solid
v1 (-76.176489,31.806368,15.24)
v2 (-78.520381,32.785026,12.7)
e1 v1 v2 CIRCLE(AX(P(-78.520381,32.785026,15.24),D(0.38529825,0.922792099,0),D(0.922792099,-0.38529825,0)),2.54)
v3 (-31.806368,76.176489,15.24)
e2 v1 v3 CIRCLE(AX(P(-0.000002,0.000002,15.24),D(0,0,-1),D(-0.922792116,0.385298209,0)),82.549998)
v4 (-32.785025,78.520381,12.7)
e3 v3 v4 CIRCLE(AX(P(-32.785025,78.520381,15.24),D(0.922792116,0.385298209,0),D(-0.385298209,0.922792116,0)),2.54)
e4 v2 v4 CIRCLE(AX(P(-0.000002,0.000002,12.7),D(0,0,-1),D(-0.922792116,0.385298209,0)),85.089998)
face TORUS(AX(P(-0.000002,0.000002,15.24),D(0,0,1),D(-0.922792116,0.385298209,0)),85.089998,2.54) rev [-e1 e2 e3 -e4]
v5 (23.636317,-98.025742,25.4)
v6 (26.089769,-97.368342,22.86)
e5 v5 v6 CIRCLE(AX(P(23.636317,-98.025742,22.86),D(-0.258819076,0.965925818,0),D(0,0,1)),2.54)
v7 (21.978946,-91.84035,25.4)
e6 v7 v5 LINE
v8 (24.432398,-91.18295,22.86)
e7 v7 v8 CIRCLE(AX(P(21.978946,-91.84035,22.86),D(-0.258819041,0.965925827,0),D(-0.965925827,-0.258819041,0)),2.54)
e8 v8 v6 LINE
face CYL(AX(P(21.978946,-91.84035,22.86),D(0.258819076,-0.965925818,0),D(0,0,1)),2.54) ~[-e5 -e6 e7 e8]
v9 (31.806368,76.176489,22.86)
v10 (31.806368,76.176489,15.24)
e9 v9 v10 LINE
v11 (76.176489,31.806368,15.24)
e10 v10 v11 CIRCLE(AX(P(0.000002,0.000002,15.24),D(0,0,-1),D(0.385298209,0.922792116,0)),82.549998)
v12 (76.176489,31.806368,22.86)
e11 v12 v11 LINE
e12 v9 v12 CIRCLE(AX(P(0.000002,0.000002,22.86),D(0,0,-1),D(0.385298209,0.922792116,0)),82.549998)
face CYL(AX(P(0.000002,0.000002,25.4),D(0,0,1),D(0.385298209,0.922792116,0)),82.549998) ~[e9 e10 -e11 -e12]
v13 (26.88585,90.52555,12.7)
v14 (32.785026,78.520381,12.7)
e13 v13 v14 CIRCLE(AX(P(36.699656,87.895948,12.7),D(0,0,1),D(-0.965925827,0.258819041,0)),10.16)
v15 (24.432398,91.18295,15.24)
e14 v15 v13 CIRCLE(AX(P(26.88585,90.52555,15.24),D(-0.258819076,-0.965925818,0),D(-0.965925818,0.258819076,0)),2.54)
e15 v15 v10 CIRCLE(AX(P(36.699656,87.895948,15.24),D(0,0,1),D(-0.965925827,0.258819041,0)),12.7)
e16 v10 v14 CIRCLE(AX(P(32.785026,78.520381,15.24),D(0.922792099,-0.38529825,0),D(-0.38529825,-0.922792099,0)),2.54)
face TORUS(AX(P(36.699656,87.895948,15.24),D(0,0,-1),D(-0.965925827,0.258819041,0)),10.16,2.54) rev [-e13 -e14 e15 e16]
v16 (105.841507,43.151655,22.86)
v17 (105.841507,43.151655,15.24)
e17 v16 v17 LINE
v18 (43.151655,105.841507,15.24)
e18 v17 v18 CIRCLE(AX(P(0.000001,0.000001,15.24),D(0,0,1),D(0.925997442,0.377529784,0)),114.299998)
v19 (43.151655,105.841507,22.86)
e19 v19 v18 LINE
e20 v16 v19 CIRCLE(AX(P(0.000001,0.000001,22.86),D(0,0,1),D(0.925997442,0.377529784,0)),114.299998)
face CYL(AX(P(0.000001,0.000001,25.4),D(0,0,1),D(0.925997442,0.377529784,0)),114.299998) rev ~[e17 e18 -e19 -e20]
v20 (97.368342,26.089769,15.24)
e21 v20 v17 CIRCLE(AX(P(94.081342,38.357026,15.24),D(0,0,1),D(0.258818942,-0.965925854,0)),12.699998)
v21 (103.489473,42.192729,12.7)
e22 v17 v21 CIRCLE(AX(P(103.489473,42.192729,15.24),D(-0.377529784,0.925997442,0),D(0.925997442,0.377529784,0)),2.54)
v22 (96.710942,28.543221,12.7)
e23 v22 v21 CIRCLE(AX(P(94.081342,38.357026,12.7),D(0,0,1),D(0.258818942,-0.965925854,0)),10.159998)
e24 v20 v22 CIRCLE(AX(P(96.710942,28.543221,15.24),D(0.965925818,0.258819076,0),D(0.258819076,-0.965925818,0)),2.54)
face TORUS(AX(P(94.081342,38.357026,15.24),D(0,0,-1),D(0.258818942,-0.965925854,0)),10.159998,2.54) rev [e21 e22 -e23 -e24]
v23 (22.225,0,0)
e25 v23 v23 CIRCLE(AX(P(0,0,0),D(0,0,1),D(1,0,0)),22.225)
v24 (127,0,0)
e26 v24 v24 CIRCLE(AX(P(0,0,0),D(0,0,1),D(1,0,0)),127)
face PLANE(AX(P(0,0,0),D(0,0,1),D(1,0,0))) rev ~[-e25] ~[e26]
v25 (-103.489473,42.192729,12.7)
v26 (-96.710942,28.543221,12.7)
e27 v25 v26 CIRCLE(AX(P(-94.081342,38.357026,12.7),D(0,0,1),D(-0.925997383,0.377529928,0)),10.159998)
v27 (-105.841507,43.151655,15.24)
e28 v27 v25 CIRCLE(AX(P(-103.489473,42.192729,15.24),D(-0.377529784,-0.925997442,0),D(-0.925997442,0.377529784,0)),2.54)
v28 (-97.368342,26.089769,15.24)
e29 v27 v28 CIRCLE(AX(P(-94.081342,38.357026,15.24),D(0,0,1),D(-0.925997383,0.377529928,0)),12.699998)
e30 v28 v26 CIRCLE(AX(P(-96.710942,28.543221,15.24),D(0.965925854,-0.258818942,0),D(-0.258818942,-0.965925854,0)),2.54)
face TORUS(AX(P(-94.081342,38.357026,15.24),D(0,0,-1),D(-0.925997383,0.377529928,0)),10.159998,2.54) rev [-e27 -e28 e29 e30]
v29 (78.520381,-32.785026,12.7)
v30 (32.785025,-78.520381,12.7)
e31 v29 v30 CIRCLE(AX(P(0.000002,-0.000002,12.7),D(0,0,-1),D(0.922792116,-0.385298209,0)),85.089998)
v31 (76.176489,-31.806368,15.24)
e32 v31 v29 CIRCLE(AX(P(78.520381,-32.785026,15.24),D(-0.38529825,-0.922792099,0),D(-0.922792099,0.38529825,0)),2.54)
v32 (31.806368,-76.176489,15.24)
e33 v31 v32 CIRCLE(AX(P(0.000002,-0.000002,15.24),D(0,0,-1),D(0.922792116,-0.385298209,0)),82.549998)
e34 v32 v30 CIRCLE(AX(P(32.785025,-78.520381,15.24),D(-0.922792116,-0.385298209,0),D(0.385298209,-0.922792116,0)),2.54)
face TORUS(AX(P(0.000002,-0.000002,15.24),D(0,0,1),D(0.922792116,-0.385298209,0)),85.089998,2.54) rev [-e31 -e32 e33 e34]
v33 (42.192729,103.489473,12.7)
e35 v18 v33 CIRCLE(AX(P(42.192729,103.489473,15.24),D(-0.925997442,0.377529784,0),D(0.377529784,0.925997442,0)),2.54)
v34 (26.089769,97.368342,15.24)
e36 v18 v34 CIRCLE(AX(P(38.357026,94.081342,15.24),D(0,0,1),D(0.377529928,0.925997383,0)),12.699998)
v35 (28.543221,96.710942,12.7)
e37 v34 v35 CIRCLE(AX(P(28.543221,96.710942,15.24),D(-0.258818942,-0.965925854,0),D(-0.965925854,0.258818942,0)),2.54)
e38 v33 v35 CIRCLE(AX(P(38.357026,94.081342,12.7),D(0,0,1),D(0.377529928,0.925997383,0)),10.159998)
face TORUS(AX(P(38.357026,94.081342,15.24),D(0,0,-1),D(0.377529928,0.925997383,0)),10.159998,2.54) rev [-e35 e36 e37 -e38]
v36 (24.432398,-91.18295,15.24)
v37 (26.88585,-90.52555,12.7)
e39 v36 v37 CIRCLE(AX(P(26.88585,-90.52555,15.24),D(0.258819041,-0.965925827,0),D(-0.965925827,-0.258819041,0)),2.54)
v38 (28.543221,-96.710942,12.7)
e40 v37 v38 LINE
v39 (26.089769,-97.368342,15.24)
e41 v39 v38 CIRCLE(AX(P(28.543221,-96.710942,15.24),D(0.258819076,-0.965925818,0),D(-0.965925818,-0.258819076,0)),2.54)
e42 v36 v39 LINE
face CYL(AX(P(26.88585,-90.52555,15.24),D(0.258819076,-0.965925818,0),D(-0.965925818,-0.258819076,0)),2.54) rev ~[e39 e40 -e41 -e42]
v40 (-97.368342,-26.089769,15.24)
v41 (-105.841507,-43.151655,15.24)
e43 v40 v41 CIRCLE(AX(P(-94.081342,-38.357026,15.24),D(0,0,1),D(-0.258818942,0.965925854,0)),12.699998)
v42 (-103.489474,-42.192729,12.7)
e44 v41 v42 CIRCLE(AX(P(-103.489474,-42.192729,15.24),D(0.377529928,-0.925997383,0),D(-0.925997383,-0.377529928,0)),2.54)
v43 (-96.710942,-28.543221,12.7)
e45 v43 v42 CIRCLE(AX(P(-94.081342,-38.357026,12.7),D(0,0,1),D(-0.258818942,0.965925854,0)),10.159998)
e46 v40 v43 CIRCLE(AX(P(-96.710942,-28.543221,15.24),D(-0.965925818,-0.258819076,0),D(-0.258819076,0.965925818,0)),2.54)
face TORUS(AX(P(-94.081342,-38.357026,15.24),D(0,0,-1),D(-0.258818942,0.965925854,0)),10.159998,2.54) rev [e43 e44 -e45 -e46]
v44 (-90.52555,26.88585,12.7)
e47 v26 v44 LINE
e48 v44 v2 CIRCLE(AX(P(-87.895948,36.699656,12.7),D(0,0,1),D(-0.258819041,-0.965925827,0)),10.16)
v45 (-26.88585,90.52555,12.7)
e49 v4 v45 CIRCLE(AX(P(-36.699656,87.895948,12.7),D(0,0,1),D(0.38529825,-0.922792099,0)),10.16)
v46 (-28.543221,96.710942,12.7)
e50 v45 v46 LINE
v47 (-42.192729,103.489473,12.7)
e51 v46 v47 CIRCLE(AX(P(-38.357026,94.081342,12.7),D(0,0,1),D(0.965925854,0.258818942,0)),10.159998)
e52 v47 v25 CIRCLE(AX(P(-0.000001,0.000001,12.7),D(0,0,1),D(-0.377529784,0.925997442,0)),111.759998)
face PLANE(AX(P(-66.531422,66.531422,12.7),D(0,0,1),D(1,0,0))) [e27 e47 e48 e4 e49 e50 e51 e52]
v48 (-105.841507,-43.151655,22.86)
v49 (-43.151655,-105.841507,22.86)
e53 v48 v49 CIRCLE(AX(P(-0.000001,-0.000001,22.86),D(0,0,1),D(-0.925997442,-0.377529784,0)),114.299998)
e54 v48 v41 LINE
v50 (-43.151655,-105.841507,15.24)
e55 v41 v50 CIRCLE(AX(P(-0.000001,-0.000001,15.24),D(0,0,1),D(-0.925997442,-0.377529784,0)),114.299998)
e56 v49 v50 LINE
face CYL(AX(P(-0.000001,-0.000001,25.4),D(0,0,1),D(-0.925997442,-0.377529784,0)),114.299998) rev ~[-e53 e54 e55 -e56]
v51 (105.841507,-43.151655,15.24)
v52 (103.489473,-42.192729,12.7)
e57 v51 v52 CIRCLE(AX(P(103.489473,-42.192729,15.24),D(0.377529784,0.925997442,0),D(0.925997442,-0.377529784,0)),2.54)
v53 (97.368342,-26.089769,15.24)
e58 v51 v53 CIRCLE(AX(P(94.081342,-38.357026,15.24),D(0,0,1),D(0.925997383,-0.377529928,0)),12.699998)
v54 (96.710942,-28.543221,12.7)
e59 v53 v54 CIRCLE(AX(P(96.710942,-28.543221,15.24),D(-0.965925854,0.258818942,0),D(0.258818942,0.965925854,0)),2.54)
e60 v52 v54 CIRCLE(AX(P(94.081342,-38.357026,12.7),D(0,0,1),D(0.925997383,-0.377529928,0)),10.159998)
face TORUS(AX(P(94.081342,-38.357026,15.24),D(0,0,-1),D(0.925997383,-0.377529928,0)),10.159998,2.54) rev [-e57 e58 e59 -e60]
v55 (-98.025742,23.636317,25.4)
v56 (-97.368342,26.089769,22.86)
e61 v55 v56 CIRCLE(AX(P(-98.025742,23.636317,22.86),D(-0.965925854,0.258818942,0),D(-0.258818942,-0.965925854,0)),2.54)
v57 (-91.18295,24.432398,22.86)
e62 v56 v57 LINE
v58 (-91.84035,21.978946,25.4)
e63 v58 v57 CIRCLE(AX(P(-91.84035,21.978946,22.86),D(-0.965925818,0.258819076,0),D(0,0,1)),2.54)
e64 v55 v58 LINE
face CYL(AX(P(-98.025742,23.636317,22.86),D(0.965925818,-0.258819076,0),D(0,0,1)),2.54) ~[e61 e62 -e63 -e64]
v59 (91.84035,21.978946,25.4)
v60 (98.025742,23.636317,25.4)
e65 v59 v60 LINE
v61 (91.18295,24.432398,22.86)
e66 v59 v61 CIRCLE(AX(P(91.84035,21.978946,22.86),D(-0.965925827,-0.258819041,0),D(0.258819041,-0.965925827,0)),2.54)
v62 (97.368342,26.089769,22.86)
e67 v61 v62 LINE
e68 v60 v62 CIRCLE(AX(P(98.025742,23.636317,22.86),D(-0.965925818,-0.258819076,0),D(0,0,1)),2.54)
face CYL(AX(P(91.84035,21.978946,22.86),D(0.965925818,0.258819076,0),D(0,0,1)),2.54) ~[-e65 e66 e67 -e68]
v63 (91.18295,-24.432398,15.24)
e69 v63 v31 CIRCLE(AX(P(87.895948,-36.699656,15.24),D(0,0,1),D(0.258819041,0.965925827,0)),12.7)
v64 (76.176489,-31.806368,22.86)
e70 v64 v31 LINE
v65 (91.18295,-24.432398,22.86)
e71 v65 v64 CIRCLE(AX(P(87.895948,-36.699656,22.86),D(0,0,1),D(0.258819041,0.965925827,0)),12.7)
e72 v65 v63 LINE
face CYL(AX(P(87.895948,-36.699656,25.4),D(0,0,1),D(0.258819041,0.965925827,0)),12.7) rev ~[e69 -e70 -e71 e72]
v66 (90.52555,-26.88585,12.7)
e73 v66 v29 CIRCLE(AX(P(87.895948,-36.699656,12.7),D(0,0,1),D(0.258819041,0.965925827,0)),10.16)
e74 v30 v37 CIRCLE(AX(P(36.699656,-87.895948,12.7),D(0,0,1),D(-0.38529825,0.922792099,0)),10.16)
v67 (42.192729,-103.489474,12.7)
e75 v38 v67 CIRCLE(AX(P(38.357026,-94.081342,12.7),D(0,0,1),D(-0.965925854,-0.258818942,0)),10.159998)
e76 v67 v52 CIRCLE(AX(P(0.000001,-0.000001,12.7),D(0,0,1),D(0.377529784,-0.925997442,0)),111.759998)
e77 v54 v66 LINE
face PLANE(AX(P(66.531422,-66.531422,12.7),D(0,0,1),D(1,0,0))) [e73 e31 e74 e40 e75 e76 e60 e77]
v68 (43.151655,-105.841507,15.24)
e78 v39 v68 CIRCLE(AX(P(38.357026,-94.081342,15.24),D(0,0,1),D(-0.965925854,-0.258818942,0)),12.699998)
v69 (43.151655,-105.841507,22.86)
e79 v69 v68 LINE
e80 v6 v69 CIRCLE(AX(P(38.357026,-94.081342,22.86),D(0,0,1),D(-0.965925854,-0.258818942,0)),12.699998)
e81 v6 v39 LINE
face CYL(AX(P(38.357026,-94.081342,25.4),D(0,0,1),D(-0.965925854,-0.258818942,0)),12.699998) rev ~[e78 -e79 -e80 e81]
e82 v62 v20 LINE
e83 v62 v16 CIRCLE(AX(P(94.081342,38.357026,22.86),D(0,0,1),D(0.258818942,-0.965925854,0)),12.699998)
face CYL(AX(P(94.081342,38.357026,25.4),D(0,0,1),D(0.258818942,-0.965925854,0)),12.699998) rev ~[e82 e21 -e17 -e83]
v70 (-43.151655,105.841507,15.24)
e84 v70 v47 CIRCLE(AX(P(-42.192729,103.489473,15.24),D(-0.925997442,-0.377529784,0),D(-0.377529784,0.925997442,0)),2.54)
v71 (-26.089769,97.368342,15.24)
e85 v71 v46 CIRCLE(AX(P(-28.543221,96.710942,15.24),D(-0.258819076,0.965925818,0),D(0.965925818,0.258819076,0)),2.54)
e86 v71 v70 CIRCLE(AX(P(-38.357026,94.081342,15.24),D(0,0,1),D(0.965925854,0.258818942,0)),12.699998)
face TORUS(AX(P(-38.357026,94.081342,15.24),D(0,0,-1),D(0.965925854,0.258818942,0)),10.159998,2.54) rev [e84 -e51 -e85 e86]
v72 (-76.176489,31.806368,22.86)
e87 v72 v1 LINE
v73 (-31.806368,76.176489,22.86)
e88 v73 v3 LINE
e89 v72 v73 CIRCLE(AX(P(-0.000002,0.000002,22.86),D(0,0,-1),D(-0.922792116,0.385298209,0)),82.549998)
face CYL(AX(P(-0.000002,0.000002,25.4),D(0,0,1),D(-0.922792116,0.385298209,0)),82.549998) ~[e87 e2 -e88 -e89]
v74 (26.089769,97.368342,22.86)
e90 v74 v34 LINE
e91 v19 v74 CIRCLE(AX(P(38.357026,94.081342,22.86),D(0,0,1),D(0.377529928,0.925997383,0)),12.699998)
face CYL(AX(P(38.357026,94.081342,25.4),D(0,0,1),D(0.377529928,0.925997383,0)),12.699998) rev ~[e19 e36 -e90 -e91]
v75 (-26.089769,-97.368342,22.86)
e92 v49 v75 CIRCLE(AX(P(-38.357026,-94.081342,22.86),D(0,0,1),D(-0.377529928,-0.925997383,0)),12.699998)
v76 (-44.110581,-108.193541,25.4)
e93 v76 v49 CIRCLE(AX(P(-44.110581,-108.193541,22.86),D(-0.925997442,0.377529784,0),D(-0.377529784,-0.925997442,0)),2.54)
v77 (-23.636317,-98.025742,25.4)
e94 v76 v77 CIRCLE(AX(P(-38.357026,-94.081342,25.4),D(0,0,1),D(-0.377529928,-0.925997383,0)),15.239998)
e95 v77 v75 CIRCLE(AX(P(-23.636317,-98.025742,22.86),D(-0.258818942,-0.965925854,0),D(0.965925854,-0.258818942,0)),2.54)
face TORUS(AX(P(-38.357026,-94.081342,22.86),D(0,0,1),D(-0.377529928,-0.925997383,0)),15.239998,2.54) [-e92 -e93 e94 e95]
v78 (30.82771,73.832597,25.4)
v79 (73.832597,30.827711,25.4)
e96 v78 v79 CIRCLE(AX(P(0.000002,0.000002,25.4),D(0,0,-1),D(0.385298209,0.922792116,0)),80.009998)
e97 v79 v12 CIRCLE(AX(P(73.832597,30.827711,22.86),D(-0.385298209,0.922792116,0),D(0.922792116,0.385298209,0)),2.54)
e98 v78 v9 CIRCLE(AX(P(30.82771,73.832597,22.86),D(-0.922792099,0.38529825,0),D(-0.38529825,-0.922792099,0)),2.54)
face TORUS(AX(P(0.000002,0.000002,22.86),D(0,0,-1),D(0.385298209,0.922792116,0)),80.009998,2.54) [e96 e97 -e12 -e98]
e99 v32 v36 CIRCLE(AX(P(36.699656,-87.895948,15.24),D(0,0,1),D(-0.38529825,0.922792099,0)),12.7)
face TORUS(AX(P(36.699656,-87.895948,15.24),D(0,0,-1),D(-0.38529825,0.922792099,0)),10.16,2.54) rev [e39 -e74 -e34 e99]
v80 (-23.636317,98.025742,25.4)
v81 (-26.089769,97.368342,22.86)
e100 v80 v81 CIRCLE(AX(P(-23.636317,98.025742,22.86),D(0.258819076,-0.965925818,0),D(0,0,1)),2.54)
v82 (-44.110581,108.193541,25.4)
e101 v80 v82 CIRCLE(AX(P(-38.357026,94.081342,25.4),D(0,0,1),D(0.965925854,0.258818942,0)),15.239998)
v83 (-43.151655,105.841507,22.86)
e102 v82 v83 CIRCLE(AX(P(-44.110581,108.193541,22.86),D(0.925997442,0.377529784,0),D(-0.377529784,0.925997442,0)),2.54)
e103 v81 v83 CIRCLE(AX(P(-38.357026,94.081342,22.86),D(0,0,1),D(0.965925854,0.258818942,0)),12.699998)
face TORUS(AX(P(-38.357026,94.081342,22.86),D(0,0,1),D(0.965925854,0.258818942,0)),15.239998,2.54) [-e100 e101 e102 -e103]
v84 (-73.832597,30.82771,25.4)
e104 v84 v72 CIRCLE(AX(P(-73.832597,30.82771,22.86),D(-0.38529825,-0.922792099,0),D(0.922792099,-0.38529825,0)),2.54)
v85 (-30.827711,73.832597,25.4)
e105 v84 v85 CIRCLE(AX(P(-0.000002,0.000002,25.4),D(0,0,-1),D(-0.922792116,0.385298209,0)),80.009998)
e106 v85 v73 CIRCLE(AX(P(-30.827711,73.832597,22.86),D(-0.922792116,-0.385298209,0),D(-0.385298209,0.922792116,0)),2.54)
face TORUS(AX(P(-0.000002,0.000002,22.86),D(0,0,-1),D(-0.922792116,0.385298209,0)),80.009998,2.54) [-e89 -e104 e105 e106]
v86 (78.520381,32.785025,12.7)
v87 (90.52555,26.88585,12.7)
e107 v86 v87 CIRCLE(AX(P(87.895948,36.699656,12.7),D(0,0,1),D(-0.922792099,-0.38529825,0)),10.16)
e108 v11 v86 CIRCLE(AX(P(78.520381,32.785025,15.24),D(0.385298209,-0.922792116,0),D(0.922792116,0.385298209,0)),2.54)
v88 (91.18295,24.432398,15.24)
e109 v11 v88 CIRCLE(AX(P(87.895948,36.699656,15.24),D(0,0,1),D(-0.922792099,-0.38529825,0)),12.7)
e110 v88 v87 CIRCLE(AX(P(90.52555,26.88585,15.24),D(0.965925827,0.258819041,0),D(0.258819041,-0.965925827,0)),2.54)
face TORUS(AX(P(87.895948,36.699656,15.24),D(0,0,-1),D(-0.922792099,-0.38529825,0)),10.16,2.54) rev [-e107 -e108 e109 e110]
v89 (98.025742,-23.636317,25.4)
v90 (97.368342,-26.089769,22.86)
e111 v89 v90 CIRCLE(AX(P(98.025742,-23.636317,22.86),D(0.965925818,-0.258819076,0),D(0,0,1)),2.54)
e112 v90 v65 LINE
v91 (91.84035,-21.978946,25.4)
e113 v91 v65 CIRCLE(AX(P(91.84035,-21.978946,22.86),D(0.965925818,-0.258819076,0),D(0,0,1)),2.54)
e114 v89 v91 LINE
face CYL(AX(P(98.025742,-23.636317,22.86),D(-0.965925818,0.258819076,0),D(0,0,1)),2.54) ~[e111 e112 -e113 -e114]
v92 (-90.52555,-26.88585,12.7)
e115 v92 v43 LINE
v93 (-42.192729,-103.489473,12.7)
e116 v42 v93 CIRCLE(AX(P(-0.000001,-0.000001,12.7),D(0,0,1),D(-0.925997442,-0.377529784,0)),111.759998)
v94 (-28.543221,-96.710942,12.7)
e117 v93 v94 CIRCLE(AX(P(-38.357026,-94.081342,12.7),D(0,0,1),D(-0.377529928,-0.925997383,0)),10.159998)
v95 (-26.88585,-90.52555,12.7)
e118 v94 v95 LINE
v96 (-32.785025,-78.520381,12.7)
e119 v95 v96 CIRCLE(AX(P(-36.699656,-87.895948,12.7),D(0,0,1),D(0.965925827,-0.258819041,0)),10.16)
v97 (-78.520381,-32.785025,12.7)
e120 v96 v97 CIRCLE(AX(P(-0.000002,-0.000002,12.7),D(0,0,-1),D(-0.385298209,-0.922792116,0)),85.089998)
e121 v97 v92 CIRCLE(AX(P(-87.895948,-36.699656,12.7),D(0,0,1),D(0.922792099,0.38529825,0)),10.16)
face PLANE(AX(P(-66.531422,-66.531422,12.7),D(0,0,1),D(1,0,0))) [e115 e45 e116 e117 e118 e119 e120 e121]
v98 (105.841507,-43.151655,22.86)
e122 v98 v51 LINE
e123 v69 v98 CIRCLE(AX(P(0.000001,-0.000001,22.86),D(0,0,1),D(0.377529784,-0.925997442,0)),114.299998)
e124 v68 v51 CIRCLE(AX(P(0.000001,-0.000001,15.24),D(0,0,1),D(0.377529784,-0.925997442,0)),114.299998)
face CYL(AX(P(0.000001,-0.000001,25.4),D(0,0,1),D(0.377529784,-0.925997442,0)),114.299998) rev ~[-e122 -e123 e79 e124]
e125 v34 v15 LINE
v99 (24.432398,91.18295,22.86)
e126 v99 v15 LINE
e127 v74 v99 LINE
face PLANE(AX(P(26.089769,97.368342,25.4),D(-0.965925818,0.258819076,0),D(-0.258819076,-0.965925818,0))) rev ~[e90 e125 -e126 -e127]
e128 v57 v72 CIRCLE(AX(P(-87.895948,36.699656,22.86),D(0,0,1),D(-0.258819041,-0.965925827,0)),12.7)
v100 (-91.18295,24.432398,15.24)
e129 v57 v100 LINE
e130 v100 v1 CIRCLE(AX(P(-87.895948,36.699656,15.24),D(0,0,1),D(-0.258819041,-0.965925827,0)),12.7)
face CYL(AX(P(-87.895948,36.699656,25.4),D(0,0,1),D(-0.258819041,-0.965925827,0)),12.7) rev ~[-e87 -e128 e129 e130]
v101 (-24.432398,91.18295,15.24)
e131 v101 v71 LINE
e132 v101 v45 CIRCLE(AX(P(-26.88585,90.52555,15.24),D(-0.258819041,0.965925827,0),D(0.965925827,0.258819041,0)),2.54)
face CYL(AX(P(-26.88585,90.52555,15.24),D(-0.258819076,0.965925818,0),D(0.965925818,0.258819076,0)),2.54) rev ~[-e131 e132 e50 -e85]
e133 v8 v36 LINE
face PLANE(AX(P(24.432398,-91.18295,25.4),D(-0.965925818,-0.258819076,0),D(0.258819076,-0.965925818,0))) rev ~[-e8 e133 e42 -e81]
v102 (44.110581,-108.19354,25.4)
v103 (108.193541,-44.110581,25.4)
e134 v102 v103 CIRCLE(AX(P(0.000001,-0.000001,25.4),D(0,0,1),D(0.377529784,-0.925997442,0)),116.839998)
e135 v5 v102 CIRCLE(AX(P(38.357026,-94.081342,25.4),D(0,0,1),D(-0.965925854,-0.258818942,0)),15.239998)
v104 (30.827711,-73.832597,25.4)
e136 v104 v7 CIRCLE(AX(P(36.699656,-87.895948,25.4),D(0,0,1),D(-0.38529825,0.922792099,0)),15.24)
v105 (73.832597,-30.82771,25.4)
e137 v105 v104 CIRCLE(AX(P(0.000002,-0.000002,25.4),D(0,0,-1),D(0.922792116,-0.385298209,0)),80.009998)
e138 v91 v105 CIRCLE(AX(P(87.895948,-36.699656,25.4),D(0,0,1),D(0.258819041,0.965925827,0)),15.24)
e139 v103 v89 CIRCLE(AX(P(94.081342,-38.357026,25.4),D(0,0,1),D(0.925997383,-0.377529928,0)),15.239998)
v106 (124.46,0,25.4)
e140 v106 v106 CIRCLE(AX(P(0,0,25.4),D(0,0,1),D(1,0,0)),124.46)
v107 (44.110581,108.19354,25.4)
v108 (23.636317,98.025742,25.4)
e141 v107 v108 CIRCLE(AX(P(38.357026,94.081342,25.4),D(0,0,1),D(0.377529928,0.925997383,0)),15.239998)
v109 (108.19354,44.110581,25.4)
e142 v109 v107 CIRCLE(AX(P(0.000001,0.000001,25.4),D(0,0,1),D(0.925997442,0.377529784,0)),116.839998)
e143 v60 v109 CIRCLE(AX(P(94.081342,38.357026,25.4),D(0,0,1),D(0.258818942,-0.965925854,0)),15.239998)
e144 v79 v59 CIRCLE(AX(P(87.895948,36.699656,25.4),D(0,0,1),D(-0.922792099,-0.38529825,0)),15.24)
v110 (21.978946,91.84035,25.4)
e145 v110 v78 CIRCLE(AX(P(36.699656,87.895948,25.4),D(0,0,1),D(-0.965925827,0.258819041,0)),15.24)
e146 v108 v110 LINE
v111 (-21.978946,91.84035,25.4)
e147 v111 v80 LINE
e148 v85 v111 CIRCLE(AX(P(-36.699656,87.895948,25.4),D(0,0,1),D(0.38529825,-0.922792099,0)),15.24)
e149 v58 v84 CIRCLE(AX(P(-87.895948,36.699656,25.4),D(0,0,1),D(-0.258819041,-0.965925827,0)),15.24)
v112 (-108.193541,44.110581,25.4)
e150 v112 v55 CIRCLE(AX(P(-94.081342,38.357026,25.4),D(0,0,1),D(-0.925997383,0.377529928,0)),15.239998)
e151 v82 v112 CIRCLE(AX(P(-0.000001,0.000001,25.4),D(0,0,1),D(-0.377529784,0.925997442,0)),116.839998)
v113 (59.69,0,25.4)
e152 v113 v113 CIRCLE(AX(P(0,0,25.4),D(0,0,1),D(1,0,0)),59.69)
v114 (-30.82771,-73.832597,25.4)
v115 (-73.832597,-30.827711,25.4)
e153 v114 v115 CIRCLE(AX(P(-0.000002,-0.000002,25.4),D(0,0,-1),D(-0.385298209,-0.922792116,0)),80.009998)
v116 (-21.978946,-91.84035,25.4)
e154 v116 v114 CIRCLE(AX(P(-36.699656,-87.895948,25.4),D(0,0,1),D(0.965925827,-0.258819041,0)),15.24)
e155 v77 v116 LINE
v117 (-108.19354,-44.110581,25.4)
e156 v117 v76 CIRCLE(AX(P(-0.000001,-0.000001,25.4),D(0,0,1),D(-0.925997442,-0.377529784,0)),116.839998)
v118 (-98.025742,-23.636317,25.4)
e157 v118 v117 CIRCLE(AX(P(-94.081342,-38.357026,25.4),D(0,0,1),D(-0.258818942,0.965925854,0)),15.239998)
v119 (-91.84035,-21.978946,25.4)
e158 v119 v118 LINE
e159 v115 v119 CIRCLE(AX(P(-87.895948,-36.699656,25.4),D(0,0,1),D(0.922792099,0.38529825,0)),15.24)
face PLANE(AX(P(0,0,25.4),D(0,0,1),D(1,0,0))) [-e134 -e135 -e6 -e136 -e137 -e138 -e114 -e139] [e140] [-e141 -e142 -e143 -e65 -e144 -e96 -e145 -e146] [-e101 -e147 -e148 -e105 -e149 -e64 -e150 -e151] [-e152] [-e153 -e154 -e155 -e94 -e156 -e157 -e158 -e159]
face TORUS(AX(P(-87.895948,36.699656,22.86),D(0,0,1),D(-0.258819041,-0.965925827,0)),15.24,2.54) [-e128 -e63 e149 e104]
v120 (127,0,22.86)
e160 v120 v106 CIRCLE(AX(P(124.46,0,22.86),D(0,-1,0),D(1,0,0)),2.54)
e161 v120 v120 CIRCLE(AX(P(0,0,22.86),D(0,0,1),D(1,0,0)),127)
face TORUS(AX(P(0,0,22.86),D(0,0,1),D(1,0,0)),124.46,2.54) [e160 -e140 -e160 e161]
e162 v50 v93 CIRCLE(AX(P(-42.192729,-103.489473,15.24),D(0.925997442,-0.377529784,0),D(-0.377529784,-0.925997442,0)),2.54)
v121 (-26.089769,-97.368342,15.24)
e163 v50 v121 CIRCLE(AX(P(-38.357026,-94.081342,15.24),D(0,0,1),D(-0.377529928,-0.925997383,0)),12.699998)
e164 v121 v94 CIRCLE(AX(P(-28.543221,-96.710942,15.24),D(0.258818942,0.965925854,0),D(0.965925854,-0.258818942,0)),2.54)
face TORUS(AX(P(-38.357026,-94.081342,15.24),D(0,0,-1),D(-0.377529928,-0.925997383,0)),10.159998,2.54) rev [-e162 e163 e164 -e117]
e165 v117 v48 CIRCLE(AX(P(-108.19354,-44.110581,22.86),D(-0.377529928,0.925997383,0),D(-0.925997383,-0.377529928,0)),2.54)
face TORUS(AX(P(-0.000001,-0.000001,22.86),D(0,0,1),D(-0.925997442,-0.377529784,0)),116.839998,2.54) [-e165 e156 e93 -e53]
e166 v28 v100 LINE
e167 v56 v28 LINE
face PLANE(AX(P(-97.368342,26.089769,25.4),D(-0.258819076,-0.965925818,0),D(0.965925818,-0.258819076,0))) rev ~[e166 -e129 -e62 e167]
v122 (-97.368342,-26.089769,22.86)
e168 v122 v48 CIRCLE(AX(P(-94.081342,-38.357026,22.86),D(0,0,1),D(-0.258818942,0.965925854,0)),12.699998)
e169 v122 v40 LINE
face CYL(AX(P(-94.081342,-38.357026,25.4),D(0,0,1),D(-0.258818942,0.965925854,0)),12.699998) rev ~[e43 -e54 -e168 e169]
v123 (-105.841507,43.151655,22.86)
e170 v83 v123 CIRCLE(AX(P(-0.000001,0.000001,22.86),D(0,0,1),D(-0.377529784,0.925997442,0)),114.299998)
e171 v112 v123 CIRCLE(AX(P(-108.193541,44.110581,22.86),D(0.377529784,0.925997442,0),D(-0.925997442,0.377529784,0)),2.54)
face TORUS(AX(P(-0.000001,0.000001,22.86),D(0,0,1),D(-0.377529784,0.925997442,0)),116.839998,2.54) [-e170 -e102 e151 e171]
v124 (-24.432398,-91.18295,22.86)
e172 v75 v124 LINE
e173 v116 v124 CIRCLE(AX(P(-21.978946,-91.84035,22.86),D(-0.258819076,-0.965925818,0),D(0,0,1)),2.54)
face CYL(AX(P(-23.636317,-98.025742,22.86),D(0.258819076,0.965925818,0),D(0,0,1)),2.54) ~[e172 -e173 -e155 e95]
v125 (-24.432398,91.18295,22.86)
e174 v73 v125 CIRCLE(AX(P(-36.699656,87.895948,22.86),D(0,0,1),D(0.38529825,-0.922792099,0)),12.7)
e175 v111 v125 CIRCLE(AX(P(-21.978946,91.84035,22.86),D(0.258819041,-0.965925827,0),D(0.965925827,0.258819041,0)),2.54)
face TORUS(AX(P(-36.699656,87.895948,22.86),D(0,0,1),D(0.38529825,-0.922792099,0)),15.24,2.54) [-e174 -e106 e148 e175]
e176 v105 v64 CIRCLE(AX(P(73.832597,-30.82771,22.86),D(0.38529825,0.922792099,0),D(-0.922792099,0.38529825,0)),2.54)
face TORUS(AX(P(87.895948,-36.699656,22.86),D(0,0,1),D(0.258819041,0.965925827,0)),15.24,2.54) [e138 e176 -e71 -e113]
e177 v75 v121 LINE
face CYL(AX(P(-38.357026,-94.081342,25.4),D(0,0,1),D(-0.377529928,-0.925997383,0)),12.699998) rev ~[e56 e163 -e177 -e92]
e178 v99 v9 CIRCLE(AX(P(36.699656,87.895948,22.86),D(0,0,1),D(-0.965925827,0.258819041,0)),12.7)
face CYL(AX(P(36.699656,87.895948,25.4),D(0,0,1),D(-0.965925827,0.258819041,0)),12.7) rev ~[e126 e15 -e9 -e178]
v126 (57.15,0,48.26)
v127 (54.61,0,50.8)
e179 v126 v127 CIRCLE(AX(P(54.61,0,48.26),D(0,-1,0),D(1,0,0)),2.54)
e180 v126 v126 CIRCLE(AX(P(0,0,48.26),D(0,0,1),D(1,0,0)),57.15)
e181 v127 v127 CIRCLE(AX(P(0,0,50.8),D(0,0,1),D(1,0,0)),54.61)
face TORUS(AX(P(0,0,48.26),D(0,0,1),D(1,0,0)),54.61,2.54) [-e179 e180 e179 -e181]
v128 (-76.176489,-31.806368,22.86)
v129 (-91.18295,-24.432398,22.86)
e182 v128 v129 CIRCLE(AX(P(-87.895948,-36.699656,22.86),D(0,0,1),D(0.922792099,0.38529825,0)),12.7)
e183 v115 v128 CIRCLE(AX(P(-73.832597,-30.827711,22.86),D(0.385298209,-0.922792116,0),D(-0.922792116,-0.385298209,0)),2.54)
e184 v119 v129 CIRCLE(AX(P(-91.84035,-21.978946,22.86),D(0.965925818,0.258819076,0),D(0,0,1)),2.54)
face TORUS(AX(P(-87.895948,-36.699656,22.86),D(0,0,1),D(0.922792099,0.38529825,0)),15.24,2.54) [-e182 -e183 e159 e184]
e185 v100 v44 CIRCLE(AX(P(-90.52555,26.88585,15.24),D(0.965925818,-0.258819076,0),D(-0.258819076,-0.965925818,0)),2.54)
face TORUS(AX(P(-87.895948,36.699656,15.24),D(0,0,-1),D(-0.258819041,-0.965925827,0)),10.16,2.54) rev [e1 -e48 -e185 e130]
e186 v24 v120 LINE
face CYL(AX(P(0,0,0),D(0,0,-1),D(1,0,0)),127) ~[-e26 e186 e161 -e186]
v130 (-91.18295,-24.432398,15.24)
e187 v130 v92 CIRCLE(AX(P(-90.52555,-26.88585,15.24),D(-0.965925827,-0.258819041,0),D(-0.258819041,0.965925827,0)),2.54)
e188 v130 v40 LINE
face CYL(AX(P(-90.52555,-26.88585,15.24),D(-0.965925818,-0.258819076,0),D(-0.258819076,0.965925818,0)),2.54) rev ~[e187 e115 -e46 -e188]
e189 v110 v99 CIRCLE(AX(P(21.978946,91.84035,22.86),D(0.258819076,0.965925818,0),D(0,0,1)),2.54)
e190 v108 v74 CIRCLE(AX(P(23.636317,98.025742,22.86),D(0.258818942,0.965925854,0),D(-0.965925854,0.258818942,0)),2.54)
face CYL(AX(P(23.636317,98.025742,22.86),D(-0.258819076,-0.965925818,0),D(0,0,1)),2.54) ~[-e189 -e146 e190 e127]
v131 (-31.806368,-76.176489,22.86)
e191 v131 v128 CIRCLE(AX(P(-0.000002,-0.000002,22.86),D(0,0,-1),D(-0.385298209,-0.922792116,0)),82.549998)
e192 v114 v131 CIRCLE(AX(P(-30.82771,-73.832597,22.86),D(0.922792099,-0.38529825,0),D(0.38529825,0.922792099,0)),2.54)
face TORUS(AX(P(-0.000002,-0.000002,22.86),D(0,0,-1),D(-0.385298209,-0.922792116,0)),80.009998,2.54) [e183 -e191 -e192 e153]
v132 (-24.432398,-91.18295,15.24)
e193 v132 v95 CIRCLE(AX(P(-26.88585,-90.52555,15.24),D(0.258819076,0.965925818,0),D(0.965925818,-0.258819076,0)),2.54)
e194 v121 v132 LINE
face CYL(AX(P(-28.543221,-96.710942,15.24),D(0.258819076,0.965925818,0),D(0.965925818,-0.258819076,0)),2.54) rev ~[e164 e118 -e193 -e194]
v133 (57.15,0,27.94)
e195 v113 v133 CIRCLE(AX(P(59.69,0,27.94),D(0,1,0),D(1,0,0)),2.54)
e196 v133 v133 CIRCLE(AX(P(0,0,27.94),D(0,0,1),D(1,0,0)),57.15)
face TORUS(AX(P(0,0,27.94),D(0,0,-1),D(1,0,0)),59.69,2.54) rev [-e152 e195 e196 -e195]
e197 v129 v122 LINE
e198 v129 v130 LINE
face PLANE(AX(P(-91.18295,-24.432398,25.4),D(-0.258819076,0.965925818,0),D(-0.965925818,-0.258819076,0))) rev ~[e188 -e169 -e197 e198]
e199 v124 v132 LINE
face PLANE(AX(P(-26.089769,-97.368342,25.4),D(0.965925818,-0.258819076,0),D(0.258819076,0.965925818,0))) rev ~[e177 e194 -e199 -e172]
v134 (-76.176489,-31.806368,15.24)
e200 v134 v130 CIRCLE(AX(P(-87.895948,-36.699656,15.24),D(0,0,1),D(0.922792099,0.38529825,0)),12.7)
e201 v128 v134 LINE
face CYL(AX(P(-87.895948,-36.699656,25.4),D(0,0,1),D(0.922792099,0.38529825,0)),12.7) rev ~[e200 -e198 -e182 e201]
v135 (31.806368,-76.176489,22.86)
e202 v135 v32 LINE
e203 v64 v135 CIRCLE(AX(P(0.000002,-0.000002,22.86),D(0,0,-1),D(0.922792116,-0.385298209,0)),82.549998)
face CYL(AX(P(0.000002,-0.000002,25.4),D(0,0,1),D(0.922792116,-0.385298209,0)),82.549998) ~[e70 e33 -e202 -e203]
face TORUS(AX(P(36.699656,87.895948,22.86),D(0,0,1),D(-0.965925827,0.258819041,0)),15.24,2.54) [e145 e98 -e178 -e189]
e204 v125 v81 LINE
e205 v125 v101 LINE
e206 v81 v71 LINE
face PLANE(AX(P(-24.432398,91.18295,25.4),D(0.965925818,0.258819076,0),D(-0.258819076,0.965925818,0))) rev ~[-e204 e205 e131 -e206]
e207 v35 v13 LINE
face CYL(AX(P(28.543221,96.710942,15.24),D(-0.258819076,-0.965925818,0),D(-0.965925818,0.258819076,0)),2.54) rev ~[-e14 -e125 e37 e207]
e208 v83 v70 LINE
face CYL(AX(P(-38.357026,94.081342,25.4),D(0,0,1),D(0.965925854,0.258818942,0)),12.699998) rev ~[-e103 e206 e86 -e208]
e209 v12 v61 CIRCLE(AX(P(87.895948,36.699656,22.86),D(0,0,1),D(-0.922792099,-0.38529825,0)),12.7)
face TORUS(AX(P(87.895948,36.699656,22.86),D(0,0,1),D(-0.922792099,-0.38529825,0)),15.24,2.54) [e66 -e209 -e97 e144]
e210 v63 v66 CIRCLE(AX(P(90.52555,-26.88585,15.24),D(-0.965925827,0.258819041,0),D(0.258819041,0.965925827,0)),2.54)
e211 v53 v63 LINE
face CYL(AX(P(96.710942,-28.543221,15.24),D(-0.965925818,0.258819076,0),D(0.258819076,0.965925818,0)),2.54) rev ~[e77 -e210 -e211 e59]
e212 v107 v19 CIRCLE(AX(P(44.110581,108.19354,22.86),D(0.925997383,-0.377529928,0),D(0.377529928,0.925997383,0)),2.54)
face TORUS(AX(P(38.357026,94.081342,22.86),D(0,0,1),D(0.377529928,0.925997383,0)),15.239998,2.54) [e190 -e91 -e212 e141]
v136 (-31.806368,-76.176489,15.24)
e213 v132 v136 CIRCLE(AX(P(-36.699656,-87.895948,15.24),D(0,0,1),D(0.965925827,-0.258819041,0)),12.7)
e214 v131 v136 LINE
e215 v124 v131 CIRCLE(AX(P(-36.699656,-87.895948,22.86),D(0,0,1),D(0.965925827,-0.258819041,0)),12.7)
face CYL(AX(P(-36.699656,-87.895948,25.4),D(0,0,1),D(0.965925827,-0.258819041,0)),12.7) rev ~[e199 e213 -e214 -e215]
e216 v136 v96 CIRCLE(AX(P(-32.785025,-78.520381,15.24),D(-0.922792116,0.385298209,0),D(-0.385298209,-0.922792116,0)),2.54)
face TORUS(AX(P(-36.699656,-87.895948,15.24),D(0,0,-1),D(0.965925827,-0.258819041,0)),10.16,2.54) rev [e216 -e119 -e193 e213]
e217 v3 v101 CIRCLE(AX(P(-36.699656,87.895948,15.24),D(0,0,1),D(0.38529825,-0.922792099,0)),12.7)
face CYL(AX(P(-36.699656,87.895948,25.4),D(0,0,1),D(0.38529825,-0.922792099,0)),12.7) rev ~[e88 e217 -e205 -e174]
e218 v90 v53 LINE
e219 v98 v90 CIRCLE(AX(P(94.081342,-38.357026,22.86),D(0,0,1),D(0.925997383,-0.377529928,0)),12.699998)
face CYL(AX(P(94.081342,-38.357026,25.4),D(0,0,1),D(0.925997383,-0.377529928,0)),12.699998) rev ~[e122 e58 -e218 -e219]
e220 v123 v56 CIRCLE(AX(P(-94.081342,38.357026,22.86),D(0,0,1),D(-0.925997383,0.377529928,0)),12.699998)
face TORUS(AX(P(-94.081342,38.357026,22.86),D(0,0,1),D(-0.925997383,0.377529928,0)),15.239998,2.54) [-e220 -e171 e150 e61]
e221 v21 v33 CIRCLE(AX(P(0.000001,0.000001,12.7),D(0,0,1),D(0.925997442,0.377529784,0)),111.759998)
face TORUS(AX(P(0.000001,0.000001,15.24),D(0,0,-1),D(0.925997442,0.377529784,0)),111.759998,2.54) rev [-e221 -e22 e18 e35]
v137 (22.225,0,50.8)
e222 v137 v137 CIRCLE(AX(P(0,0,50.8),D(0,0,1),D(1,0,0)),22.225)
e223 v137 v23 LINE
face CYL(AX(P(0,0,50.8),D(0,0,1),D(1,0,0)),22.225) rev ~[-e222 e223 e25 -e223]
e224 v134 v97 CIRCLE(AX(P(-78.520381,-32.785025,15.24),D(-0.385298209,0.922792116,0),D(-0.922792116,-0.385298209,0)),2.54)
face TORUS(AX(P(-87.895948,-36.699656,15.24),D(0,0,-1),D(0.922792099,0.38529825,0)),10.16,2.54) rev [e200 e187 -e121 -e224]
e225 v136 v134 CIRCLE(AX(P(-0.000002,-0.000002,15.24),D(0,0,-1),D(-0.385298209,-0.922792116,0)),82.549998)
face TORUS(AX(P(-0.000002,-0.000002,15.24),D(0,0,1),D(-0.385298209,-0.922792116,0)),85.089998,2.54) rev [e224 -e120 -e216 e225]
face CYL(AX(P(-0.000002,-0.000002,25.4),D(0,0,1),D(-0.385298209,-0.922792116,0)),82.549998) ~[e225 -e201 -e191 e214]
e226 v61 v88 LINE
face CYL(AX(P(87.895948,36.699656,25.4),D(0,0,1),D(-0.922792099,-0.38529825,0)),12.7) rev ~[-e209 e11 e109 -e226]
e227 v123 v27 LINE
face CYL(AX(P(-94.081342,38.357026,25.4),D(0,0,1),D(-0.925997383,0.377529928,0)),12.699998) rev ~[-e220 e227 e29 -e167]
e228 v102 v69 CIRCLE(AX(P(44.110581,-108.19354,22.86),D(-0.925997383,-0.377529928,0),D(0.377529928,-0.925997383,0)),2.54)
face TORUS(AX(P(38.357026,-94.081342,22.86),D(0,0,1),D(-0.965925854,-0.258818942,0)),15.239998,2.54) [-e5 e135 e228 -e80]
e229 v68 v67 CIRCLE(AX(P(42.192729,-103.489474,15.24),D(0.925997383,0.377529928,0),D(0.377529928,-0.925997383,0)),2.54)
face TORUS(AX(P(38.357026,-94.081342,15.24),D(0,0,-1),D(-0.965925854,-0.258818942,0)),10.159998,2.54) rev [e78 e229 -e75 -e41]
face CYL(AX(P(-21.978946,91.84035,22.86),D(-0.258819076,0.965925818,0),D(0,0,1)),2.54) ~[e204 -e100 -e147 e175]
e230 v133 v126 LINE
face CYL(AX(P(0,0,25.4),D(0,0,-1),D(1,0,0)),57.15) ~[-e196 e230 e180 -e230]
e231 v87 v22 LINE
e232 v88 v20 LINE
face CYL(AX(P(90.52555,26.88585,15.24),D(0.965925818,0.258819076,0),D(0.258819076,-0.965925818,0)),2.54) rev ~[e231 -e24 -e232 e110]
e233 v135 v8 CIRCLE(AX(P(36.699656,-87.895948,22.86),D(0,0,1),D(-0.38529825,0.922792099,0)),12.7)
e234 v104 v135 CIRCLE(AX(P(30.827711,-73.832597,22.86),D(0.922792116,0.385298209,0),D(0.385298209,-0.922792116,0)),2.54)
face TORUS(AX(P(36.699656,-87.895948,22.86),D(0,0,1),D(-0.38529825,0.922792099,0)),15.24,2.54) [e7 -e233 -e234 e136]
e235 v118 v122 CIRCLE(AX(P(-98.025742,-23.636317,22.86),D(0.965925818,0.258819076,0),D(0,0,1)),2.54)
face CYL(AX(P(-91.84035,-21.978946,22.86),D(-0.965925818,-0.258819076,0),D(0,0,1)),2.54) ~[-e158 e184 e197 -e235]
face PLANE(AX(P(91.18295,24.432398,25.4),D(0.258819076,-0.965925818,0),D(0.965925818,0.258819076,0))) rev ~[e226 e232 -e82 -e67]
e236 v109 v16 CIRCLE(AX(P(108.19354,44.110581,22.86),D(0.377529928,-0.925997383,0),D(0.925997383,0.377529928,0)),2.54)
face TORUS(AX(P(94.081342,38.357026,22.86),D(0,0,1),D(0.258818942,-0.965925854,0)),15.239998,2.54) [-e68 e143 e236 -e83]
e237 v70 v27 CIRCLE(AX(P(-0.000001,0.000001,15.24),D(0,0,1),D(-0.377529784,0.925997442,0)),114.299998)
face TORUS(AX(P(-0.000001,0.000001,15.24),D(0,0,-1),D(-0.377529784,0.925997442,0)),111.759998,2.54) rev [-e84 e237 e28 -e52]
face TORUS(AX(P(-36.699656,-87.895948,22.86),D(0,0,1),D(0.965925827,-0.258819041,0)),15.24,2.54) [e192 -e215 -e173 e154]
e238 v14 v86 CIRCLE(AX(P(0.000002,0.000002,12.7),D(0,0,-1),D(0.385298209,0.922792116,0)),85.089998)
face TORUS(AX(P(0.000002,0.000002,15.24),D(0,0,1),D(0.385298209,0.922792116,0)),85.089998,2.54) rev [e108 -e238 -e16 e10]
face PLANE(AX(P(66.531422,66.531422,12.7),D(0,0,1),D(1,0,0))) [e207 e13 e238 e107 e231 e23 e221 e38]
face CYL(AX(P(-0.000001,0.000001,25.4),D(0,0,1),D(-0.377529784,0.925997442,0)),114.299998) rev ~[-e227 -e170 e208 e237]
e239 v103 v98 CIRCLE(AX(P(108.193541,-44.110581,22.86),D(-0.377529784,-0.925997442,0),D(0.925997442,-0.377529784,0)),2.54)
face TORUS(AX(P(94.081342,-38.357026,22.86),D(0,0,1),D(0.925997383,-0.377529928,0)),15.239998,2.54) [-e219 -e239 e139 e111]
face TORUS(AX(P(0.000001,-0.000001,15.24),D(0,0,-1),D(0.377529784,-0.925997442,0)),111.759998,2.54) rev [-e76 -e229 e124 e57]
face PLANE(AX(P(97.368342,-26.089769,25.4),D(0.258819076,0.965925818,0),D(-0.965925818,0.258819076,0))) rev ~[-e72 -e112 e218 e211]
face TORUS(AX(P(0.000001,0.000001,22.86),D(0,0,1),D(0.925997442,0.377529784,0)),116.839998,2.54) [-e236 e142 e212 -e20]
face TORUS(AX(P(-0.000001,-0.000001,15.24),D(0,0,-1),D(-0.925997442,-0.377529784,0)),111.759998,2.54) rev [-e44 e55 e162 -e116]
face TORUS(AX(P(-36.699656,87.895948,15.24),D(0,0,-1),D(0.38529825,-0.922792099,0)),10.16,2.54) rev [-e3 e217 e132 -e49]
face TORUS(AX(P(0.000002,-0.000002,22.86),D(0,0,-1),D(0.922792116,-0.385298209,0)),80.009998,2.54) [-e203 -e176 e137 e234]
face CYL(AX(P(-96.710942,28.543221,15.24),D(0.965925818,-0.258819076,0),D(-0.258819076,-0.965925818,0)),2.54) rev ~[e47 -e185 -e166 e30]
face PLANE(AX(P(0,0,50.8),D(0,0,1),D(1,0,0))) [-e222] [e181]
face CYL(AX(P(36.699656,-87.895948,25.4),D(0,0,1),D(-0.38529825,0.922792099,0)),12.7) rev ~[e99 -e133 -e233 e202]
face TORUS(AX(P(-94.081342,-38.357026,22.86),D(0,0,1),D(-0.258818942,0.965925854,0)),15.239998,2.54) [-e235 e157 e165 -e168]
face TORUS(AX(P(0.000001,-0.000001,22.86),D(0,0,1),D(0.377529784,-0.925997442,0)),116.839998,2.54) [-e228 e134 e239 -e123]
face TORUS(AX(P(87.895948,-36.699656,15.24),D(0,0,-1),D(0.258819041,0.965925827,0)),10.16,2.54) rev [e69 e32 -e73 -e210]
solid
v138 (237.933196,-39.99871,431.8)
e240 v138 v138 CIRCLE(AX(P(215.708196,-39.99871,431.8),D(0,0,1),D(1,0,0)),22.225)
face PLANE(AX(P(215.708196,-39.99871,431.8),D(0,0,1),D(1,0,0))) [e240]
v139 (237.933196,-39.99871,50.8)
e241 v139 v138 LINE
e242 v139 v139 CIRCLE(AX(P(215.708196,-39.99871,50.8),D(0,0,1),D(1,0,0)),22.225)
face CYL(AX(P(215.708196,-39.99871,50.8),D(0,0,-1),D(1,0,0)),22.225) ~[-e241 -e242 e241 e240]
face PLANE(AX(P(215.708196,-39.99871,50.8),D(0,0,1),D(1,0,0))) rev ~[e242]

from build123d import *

# Parameters (mm, degrees)
F0_R      = 127
F1_DEPTH  = 25.4
F2_R      = 57.15
F3_DEPTH  = 25.4
F5_DEPTH  = 12.7
F6_R      = 2.54
F7_R      = 22.225
F8_DEPTH  = 50.801
F9_R      = 22.225
F10_DEPTH = 381


with BuildPart() as f1:
    # F0 (on Top) → F1 (new body)
    with BuildSketch(Plane.XY):
        Circle(F0_R)
    extrude(amount=F1_DEPTH)

    # F2 (on face) → F3 (join)
    with BuildSketch(Plane.XY.offset(25.4)):
        Circle(F2_R)
    extrude(amount=F3_DEPTH)

    # F4 (on face) → F5 (cut)
    with BuildSketch(Plane.XY.offset(25.4)):
        with BuildLine():
            ThreePointArc((-43.151655, 105.841507), (-80.822305, 80.822305), (-105.841507, 43.151655))
            ThreePointArc((-105.841507, 43.151655), (-105.455931, 32.708249), (-97.368342, 26.089769))
            Line((-97.368342, 26.089769), (-91.18295, 24.432398))
            ThreePointArc((-91.18295, 24.432398), (-82.295016, 25.30143), (-76.176489, 31.806368))
            ThreePointArc((-76.176489, 31.806368), (-58.371665, 58.371665), (-31.806368, 76.176489))
            ThreePointArc((-31.806368, 76.176489), (-25.30143, 82.295016), (-24.432398, 91.18295))
            Line((-24.432398, 91.18295), (-26.089769, 97.368342))
            ThreePointArc((-26.089769, 97.368342), (-32.708249, 105.455931), (-43.151655, 105.841507))
        make_face()
        with BuildLine():
            ThreePointArc((76.176489, 31.806368), (82.295016, 25.30143), (91.18295, 24.432398))
            Line((91.18295, 24.432398), (97.368342, 26.089769))
            ThreePointArc((97.368342, 26.089769), (105.455931, 32.708249), (105.841507, 43.151655))
            ThreePointArc((105.841507, 43.151655), (80.822305, 80.822305), (43.151655, 105.841507))
            ThreePointArc((43.151655, 105.841507), (32.708249, 105.455931), (26.089769, 97.368342))
            Line((26.089769, 97.368342), (24.432398, 91.18295))
            ThreePointArc((24.432398, 91.18295), (25.30143, 82.295016), (31.806368, 76.176489))
            ThreePointArc((31.806368, 76.176489), (58.371665, 58.371665), (76.176489, 31.806368))
        make_face()
        with BuildLine():
            Line((-26.089769, -97.368342), (-24.432398, -91.18295))
            ThreePointArc((-24.432398, -91.18295), (-25.30143, -82.295016), (-31.806368, -76.176489))
            ThreePointArc((-31.806368, -76.176489), (-58.371665, -58.371665), (-76.176489, -31.806368))
            ThreePointArc((-76.176489, -31.806368), (-82.295016, -25.30143), (-91.18295, -24.432398))
            Line((-91.18295, -24.432398), (-97.368342, -26.089769))
            ThreePointArc((-97.368342, -26.089769), (-105.455931, -32.708249), (-105.841507, -43.151655))
            ThreePointArc((-105.841507, -43.151655), (-80.822305, -80.822305), (-43.151655, -105.841507))
            ThreePointArc((-43.151655, -105.841507), (-32.708249, -105.455931), (-26.089769, -97.368342))
        make_face()
        with BuildLine():
            ThreePointArc((31.806368, -76.176489), (25.30143, -82.295016), (24.432398, -91.18295))
            Line((24.432398, -91.18295), (26.089769, -97.368342))
            ThreePointArc((26.089769, -97.368342), (32.708249, -105.455931), (43.151655, -105.841507))
            ThreePointArc((43.151655, -105.841507), (80.822305, -80.822305), (105.841507, -43.151655))
            ThreePointArc((105.841507, -43.151655), (105.455931, -32.708249), (97.368342, -26.089769))
            Line((97.368342, -26.089769), (91.18295, -24.432398))
            ThreePointArc((91.18295, -24.432398), (82.295016, -25.30143), (76.176489, -31.806368))
            ThreePointArc((76.176489, -31.806368), (58.371665, -58.371665), (31.806368, -76.176489))
        make_face()
    extrude(amount=-F5_DEPTH, mode=Mode.SUBTRACT)

    # F6
    f6_edges = [f1.edges().sort_by_distance(p)[0] for p in [
        (-127, 0, 25.4),
        (-57.15, 0, 25.4),
        (-57.15, 0, 50.8),
        (-80.822305, 80.822305, 25.4),
        (-32.708249, 105.455931, 25.4),
        (32.708249, 105.455931, 25.4),
        (94.275646, -25.261083, 25.4),
        (-94.275646, -25.261083, 25.4),
        (-80.822305, 80.822305, 12.7),
        (80.822305, 80.822305, 12.7),
        (82.295016, -25.30143, 12.7),
        (-58.371665, -58.371665, 12.7),
    ]]
    fillet(f6_edges, radius=F6_R)

    # F7 (on face) → F8 (cut, through all)
    with BuildSketch(Plane.XY.offset(50.8)):
        Circle(F7_R)
    extrude(amount=-F8_DEPTH, mode=Mode.SUBTRACT)


with BuildPart() as f10:
    # F9 (on face) → F10 (new body)
    with BuildSketch(Plane.XY.offset(50.8)):
        with Locations((215.708196, -39.99871)):
            Circle(F9_R)
    extrude(amount=F10_DEPTH)


solid = Compound([f1.part, f10.part])
